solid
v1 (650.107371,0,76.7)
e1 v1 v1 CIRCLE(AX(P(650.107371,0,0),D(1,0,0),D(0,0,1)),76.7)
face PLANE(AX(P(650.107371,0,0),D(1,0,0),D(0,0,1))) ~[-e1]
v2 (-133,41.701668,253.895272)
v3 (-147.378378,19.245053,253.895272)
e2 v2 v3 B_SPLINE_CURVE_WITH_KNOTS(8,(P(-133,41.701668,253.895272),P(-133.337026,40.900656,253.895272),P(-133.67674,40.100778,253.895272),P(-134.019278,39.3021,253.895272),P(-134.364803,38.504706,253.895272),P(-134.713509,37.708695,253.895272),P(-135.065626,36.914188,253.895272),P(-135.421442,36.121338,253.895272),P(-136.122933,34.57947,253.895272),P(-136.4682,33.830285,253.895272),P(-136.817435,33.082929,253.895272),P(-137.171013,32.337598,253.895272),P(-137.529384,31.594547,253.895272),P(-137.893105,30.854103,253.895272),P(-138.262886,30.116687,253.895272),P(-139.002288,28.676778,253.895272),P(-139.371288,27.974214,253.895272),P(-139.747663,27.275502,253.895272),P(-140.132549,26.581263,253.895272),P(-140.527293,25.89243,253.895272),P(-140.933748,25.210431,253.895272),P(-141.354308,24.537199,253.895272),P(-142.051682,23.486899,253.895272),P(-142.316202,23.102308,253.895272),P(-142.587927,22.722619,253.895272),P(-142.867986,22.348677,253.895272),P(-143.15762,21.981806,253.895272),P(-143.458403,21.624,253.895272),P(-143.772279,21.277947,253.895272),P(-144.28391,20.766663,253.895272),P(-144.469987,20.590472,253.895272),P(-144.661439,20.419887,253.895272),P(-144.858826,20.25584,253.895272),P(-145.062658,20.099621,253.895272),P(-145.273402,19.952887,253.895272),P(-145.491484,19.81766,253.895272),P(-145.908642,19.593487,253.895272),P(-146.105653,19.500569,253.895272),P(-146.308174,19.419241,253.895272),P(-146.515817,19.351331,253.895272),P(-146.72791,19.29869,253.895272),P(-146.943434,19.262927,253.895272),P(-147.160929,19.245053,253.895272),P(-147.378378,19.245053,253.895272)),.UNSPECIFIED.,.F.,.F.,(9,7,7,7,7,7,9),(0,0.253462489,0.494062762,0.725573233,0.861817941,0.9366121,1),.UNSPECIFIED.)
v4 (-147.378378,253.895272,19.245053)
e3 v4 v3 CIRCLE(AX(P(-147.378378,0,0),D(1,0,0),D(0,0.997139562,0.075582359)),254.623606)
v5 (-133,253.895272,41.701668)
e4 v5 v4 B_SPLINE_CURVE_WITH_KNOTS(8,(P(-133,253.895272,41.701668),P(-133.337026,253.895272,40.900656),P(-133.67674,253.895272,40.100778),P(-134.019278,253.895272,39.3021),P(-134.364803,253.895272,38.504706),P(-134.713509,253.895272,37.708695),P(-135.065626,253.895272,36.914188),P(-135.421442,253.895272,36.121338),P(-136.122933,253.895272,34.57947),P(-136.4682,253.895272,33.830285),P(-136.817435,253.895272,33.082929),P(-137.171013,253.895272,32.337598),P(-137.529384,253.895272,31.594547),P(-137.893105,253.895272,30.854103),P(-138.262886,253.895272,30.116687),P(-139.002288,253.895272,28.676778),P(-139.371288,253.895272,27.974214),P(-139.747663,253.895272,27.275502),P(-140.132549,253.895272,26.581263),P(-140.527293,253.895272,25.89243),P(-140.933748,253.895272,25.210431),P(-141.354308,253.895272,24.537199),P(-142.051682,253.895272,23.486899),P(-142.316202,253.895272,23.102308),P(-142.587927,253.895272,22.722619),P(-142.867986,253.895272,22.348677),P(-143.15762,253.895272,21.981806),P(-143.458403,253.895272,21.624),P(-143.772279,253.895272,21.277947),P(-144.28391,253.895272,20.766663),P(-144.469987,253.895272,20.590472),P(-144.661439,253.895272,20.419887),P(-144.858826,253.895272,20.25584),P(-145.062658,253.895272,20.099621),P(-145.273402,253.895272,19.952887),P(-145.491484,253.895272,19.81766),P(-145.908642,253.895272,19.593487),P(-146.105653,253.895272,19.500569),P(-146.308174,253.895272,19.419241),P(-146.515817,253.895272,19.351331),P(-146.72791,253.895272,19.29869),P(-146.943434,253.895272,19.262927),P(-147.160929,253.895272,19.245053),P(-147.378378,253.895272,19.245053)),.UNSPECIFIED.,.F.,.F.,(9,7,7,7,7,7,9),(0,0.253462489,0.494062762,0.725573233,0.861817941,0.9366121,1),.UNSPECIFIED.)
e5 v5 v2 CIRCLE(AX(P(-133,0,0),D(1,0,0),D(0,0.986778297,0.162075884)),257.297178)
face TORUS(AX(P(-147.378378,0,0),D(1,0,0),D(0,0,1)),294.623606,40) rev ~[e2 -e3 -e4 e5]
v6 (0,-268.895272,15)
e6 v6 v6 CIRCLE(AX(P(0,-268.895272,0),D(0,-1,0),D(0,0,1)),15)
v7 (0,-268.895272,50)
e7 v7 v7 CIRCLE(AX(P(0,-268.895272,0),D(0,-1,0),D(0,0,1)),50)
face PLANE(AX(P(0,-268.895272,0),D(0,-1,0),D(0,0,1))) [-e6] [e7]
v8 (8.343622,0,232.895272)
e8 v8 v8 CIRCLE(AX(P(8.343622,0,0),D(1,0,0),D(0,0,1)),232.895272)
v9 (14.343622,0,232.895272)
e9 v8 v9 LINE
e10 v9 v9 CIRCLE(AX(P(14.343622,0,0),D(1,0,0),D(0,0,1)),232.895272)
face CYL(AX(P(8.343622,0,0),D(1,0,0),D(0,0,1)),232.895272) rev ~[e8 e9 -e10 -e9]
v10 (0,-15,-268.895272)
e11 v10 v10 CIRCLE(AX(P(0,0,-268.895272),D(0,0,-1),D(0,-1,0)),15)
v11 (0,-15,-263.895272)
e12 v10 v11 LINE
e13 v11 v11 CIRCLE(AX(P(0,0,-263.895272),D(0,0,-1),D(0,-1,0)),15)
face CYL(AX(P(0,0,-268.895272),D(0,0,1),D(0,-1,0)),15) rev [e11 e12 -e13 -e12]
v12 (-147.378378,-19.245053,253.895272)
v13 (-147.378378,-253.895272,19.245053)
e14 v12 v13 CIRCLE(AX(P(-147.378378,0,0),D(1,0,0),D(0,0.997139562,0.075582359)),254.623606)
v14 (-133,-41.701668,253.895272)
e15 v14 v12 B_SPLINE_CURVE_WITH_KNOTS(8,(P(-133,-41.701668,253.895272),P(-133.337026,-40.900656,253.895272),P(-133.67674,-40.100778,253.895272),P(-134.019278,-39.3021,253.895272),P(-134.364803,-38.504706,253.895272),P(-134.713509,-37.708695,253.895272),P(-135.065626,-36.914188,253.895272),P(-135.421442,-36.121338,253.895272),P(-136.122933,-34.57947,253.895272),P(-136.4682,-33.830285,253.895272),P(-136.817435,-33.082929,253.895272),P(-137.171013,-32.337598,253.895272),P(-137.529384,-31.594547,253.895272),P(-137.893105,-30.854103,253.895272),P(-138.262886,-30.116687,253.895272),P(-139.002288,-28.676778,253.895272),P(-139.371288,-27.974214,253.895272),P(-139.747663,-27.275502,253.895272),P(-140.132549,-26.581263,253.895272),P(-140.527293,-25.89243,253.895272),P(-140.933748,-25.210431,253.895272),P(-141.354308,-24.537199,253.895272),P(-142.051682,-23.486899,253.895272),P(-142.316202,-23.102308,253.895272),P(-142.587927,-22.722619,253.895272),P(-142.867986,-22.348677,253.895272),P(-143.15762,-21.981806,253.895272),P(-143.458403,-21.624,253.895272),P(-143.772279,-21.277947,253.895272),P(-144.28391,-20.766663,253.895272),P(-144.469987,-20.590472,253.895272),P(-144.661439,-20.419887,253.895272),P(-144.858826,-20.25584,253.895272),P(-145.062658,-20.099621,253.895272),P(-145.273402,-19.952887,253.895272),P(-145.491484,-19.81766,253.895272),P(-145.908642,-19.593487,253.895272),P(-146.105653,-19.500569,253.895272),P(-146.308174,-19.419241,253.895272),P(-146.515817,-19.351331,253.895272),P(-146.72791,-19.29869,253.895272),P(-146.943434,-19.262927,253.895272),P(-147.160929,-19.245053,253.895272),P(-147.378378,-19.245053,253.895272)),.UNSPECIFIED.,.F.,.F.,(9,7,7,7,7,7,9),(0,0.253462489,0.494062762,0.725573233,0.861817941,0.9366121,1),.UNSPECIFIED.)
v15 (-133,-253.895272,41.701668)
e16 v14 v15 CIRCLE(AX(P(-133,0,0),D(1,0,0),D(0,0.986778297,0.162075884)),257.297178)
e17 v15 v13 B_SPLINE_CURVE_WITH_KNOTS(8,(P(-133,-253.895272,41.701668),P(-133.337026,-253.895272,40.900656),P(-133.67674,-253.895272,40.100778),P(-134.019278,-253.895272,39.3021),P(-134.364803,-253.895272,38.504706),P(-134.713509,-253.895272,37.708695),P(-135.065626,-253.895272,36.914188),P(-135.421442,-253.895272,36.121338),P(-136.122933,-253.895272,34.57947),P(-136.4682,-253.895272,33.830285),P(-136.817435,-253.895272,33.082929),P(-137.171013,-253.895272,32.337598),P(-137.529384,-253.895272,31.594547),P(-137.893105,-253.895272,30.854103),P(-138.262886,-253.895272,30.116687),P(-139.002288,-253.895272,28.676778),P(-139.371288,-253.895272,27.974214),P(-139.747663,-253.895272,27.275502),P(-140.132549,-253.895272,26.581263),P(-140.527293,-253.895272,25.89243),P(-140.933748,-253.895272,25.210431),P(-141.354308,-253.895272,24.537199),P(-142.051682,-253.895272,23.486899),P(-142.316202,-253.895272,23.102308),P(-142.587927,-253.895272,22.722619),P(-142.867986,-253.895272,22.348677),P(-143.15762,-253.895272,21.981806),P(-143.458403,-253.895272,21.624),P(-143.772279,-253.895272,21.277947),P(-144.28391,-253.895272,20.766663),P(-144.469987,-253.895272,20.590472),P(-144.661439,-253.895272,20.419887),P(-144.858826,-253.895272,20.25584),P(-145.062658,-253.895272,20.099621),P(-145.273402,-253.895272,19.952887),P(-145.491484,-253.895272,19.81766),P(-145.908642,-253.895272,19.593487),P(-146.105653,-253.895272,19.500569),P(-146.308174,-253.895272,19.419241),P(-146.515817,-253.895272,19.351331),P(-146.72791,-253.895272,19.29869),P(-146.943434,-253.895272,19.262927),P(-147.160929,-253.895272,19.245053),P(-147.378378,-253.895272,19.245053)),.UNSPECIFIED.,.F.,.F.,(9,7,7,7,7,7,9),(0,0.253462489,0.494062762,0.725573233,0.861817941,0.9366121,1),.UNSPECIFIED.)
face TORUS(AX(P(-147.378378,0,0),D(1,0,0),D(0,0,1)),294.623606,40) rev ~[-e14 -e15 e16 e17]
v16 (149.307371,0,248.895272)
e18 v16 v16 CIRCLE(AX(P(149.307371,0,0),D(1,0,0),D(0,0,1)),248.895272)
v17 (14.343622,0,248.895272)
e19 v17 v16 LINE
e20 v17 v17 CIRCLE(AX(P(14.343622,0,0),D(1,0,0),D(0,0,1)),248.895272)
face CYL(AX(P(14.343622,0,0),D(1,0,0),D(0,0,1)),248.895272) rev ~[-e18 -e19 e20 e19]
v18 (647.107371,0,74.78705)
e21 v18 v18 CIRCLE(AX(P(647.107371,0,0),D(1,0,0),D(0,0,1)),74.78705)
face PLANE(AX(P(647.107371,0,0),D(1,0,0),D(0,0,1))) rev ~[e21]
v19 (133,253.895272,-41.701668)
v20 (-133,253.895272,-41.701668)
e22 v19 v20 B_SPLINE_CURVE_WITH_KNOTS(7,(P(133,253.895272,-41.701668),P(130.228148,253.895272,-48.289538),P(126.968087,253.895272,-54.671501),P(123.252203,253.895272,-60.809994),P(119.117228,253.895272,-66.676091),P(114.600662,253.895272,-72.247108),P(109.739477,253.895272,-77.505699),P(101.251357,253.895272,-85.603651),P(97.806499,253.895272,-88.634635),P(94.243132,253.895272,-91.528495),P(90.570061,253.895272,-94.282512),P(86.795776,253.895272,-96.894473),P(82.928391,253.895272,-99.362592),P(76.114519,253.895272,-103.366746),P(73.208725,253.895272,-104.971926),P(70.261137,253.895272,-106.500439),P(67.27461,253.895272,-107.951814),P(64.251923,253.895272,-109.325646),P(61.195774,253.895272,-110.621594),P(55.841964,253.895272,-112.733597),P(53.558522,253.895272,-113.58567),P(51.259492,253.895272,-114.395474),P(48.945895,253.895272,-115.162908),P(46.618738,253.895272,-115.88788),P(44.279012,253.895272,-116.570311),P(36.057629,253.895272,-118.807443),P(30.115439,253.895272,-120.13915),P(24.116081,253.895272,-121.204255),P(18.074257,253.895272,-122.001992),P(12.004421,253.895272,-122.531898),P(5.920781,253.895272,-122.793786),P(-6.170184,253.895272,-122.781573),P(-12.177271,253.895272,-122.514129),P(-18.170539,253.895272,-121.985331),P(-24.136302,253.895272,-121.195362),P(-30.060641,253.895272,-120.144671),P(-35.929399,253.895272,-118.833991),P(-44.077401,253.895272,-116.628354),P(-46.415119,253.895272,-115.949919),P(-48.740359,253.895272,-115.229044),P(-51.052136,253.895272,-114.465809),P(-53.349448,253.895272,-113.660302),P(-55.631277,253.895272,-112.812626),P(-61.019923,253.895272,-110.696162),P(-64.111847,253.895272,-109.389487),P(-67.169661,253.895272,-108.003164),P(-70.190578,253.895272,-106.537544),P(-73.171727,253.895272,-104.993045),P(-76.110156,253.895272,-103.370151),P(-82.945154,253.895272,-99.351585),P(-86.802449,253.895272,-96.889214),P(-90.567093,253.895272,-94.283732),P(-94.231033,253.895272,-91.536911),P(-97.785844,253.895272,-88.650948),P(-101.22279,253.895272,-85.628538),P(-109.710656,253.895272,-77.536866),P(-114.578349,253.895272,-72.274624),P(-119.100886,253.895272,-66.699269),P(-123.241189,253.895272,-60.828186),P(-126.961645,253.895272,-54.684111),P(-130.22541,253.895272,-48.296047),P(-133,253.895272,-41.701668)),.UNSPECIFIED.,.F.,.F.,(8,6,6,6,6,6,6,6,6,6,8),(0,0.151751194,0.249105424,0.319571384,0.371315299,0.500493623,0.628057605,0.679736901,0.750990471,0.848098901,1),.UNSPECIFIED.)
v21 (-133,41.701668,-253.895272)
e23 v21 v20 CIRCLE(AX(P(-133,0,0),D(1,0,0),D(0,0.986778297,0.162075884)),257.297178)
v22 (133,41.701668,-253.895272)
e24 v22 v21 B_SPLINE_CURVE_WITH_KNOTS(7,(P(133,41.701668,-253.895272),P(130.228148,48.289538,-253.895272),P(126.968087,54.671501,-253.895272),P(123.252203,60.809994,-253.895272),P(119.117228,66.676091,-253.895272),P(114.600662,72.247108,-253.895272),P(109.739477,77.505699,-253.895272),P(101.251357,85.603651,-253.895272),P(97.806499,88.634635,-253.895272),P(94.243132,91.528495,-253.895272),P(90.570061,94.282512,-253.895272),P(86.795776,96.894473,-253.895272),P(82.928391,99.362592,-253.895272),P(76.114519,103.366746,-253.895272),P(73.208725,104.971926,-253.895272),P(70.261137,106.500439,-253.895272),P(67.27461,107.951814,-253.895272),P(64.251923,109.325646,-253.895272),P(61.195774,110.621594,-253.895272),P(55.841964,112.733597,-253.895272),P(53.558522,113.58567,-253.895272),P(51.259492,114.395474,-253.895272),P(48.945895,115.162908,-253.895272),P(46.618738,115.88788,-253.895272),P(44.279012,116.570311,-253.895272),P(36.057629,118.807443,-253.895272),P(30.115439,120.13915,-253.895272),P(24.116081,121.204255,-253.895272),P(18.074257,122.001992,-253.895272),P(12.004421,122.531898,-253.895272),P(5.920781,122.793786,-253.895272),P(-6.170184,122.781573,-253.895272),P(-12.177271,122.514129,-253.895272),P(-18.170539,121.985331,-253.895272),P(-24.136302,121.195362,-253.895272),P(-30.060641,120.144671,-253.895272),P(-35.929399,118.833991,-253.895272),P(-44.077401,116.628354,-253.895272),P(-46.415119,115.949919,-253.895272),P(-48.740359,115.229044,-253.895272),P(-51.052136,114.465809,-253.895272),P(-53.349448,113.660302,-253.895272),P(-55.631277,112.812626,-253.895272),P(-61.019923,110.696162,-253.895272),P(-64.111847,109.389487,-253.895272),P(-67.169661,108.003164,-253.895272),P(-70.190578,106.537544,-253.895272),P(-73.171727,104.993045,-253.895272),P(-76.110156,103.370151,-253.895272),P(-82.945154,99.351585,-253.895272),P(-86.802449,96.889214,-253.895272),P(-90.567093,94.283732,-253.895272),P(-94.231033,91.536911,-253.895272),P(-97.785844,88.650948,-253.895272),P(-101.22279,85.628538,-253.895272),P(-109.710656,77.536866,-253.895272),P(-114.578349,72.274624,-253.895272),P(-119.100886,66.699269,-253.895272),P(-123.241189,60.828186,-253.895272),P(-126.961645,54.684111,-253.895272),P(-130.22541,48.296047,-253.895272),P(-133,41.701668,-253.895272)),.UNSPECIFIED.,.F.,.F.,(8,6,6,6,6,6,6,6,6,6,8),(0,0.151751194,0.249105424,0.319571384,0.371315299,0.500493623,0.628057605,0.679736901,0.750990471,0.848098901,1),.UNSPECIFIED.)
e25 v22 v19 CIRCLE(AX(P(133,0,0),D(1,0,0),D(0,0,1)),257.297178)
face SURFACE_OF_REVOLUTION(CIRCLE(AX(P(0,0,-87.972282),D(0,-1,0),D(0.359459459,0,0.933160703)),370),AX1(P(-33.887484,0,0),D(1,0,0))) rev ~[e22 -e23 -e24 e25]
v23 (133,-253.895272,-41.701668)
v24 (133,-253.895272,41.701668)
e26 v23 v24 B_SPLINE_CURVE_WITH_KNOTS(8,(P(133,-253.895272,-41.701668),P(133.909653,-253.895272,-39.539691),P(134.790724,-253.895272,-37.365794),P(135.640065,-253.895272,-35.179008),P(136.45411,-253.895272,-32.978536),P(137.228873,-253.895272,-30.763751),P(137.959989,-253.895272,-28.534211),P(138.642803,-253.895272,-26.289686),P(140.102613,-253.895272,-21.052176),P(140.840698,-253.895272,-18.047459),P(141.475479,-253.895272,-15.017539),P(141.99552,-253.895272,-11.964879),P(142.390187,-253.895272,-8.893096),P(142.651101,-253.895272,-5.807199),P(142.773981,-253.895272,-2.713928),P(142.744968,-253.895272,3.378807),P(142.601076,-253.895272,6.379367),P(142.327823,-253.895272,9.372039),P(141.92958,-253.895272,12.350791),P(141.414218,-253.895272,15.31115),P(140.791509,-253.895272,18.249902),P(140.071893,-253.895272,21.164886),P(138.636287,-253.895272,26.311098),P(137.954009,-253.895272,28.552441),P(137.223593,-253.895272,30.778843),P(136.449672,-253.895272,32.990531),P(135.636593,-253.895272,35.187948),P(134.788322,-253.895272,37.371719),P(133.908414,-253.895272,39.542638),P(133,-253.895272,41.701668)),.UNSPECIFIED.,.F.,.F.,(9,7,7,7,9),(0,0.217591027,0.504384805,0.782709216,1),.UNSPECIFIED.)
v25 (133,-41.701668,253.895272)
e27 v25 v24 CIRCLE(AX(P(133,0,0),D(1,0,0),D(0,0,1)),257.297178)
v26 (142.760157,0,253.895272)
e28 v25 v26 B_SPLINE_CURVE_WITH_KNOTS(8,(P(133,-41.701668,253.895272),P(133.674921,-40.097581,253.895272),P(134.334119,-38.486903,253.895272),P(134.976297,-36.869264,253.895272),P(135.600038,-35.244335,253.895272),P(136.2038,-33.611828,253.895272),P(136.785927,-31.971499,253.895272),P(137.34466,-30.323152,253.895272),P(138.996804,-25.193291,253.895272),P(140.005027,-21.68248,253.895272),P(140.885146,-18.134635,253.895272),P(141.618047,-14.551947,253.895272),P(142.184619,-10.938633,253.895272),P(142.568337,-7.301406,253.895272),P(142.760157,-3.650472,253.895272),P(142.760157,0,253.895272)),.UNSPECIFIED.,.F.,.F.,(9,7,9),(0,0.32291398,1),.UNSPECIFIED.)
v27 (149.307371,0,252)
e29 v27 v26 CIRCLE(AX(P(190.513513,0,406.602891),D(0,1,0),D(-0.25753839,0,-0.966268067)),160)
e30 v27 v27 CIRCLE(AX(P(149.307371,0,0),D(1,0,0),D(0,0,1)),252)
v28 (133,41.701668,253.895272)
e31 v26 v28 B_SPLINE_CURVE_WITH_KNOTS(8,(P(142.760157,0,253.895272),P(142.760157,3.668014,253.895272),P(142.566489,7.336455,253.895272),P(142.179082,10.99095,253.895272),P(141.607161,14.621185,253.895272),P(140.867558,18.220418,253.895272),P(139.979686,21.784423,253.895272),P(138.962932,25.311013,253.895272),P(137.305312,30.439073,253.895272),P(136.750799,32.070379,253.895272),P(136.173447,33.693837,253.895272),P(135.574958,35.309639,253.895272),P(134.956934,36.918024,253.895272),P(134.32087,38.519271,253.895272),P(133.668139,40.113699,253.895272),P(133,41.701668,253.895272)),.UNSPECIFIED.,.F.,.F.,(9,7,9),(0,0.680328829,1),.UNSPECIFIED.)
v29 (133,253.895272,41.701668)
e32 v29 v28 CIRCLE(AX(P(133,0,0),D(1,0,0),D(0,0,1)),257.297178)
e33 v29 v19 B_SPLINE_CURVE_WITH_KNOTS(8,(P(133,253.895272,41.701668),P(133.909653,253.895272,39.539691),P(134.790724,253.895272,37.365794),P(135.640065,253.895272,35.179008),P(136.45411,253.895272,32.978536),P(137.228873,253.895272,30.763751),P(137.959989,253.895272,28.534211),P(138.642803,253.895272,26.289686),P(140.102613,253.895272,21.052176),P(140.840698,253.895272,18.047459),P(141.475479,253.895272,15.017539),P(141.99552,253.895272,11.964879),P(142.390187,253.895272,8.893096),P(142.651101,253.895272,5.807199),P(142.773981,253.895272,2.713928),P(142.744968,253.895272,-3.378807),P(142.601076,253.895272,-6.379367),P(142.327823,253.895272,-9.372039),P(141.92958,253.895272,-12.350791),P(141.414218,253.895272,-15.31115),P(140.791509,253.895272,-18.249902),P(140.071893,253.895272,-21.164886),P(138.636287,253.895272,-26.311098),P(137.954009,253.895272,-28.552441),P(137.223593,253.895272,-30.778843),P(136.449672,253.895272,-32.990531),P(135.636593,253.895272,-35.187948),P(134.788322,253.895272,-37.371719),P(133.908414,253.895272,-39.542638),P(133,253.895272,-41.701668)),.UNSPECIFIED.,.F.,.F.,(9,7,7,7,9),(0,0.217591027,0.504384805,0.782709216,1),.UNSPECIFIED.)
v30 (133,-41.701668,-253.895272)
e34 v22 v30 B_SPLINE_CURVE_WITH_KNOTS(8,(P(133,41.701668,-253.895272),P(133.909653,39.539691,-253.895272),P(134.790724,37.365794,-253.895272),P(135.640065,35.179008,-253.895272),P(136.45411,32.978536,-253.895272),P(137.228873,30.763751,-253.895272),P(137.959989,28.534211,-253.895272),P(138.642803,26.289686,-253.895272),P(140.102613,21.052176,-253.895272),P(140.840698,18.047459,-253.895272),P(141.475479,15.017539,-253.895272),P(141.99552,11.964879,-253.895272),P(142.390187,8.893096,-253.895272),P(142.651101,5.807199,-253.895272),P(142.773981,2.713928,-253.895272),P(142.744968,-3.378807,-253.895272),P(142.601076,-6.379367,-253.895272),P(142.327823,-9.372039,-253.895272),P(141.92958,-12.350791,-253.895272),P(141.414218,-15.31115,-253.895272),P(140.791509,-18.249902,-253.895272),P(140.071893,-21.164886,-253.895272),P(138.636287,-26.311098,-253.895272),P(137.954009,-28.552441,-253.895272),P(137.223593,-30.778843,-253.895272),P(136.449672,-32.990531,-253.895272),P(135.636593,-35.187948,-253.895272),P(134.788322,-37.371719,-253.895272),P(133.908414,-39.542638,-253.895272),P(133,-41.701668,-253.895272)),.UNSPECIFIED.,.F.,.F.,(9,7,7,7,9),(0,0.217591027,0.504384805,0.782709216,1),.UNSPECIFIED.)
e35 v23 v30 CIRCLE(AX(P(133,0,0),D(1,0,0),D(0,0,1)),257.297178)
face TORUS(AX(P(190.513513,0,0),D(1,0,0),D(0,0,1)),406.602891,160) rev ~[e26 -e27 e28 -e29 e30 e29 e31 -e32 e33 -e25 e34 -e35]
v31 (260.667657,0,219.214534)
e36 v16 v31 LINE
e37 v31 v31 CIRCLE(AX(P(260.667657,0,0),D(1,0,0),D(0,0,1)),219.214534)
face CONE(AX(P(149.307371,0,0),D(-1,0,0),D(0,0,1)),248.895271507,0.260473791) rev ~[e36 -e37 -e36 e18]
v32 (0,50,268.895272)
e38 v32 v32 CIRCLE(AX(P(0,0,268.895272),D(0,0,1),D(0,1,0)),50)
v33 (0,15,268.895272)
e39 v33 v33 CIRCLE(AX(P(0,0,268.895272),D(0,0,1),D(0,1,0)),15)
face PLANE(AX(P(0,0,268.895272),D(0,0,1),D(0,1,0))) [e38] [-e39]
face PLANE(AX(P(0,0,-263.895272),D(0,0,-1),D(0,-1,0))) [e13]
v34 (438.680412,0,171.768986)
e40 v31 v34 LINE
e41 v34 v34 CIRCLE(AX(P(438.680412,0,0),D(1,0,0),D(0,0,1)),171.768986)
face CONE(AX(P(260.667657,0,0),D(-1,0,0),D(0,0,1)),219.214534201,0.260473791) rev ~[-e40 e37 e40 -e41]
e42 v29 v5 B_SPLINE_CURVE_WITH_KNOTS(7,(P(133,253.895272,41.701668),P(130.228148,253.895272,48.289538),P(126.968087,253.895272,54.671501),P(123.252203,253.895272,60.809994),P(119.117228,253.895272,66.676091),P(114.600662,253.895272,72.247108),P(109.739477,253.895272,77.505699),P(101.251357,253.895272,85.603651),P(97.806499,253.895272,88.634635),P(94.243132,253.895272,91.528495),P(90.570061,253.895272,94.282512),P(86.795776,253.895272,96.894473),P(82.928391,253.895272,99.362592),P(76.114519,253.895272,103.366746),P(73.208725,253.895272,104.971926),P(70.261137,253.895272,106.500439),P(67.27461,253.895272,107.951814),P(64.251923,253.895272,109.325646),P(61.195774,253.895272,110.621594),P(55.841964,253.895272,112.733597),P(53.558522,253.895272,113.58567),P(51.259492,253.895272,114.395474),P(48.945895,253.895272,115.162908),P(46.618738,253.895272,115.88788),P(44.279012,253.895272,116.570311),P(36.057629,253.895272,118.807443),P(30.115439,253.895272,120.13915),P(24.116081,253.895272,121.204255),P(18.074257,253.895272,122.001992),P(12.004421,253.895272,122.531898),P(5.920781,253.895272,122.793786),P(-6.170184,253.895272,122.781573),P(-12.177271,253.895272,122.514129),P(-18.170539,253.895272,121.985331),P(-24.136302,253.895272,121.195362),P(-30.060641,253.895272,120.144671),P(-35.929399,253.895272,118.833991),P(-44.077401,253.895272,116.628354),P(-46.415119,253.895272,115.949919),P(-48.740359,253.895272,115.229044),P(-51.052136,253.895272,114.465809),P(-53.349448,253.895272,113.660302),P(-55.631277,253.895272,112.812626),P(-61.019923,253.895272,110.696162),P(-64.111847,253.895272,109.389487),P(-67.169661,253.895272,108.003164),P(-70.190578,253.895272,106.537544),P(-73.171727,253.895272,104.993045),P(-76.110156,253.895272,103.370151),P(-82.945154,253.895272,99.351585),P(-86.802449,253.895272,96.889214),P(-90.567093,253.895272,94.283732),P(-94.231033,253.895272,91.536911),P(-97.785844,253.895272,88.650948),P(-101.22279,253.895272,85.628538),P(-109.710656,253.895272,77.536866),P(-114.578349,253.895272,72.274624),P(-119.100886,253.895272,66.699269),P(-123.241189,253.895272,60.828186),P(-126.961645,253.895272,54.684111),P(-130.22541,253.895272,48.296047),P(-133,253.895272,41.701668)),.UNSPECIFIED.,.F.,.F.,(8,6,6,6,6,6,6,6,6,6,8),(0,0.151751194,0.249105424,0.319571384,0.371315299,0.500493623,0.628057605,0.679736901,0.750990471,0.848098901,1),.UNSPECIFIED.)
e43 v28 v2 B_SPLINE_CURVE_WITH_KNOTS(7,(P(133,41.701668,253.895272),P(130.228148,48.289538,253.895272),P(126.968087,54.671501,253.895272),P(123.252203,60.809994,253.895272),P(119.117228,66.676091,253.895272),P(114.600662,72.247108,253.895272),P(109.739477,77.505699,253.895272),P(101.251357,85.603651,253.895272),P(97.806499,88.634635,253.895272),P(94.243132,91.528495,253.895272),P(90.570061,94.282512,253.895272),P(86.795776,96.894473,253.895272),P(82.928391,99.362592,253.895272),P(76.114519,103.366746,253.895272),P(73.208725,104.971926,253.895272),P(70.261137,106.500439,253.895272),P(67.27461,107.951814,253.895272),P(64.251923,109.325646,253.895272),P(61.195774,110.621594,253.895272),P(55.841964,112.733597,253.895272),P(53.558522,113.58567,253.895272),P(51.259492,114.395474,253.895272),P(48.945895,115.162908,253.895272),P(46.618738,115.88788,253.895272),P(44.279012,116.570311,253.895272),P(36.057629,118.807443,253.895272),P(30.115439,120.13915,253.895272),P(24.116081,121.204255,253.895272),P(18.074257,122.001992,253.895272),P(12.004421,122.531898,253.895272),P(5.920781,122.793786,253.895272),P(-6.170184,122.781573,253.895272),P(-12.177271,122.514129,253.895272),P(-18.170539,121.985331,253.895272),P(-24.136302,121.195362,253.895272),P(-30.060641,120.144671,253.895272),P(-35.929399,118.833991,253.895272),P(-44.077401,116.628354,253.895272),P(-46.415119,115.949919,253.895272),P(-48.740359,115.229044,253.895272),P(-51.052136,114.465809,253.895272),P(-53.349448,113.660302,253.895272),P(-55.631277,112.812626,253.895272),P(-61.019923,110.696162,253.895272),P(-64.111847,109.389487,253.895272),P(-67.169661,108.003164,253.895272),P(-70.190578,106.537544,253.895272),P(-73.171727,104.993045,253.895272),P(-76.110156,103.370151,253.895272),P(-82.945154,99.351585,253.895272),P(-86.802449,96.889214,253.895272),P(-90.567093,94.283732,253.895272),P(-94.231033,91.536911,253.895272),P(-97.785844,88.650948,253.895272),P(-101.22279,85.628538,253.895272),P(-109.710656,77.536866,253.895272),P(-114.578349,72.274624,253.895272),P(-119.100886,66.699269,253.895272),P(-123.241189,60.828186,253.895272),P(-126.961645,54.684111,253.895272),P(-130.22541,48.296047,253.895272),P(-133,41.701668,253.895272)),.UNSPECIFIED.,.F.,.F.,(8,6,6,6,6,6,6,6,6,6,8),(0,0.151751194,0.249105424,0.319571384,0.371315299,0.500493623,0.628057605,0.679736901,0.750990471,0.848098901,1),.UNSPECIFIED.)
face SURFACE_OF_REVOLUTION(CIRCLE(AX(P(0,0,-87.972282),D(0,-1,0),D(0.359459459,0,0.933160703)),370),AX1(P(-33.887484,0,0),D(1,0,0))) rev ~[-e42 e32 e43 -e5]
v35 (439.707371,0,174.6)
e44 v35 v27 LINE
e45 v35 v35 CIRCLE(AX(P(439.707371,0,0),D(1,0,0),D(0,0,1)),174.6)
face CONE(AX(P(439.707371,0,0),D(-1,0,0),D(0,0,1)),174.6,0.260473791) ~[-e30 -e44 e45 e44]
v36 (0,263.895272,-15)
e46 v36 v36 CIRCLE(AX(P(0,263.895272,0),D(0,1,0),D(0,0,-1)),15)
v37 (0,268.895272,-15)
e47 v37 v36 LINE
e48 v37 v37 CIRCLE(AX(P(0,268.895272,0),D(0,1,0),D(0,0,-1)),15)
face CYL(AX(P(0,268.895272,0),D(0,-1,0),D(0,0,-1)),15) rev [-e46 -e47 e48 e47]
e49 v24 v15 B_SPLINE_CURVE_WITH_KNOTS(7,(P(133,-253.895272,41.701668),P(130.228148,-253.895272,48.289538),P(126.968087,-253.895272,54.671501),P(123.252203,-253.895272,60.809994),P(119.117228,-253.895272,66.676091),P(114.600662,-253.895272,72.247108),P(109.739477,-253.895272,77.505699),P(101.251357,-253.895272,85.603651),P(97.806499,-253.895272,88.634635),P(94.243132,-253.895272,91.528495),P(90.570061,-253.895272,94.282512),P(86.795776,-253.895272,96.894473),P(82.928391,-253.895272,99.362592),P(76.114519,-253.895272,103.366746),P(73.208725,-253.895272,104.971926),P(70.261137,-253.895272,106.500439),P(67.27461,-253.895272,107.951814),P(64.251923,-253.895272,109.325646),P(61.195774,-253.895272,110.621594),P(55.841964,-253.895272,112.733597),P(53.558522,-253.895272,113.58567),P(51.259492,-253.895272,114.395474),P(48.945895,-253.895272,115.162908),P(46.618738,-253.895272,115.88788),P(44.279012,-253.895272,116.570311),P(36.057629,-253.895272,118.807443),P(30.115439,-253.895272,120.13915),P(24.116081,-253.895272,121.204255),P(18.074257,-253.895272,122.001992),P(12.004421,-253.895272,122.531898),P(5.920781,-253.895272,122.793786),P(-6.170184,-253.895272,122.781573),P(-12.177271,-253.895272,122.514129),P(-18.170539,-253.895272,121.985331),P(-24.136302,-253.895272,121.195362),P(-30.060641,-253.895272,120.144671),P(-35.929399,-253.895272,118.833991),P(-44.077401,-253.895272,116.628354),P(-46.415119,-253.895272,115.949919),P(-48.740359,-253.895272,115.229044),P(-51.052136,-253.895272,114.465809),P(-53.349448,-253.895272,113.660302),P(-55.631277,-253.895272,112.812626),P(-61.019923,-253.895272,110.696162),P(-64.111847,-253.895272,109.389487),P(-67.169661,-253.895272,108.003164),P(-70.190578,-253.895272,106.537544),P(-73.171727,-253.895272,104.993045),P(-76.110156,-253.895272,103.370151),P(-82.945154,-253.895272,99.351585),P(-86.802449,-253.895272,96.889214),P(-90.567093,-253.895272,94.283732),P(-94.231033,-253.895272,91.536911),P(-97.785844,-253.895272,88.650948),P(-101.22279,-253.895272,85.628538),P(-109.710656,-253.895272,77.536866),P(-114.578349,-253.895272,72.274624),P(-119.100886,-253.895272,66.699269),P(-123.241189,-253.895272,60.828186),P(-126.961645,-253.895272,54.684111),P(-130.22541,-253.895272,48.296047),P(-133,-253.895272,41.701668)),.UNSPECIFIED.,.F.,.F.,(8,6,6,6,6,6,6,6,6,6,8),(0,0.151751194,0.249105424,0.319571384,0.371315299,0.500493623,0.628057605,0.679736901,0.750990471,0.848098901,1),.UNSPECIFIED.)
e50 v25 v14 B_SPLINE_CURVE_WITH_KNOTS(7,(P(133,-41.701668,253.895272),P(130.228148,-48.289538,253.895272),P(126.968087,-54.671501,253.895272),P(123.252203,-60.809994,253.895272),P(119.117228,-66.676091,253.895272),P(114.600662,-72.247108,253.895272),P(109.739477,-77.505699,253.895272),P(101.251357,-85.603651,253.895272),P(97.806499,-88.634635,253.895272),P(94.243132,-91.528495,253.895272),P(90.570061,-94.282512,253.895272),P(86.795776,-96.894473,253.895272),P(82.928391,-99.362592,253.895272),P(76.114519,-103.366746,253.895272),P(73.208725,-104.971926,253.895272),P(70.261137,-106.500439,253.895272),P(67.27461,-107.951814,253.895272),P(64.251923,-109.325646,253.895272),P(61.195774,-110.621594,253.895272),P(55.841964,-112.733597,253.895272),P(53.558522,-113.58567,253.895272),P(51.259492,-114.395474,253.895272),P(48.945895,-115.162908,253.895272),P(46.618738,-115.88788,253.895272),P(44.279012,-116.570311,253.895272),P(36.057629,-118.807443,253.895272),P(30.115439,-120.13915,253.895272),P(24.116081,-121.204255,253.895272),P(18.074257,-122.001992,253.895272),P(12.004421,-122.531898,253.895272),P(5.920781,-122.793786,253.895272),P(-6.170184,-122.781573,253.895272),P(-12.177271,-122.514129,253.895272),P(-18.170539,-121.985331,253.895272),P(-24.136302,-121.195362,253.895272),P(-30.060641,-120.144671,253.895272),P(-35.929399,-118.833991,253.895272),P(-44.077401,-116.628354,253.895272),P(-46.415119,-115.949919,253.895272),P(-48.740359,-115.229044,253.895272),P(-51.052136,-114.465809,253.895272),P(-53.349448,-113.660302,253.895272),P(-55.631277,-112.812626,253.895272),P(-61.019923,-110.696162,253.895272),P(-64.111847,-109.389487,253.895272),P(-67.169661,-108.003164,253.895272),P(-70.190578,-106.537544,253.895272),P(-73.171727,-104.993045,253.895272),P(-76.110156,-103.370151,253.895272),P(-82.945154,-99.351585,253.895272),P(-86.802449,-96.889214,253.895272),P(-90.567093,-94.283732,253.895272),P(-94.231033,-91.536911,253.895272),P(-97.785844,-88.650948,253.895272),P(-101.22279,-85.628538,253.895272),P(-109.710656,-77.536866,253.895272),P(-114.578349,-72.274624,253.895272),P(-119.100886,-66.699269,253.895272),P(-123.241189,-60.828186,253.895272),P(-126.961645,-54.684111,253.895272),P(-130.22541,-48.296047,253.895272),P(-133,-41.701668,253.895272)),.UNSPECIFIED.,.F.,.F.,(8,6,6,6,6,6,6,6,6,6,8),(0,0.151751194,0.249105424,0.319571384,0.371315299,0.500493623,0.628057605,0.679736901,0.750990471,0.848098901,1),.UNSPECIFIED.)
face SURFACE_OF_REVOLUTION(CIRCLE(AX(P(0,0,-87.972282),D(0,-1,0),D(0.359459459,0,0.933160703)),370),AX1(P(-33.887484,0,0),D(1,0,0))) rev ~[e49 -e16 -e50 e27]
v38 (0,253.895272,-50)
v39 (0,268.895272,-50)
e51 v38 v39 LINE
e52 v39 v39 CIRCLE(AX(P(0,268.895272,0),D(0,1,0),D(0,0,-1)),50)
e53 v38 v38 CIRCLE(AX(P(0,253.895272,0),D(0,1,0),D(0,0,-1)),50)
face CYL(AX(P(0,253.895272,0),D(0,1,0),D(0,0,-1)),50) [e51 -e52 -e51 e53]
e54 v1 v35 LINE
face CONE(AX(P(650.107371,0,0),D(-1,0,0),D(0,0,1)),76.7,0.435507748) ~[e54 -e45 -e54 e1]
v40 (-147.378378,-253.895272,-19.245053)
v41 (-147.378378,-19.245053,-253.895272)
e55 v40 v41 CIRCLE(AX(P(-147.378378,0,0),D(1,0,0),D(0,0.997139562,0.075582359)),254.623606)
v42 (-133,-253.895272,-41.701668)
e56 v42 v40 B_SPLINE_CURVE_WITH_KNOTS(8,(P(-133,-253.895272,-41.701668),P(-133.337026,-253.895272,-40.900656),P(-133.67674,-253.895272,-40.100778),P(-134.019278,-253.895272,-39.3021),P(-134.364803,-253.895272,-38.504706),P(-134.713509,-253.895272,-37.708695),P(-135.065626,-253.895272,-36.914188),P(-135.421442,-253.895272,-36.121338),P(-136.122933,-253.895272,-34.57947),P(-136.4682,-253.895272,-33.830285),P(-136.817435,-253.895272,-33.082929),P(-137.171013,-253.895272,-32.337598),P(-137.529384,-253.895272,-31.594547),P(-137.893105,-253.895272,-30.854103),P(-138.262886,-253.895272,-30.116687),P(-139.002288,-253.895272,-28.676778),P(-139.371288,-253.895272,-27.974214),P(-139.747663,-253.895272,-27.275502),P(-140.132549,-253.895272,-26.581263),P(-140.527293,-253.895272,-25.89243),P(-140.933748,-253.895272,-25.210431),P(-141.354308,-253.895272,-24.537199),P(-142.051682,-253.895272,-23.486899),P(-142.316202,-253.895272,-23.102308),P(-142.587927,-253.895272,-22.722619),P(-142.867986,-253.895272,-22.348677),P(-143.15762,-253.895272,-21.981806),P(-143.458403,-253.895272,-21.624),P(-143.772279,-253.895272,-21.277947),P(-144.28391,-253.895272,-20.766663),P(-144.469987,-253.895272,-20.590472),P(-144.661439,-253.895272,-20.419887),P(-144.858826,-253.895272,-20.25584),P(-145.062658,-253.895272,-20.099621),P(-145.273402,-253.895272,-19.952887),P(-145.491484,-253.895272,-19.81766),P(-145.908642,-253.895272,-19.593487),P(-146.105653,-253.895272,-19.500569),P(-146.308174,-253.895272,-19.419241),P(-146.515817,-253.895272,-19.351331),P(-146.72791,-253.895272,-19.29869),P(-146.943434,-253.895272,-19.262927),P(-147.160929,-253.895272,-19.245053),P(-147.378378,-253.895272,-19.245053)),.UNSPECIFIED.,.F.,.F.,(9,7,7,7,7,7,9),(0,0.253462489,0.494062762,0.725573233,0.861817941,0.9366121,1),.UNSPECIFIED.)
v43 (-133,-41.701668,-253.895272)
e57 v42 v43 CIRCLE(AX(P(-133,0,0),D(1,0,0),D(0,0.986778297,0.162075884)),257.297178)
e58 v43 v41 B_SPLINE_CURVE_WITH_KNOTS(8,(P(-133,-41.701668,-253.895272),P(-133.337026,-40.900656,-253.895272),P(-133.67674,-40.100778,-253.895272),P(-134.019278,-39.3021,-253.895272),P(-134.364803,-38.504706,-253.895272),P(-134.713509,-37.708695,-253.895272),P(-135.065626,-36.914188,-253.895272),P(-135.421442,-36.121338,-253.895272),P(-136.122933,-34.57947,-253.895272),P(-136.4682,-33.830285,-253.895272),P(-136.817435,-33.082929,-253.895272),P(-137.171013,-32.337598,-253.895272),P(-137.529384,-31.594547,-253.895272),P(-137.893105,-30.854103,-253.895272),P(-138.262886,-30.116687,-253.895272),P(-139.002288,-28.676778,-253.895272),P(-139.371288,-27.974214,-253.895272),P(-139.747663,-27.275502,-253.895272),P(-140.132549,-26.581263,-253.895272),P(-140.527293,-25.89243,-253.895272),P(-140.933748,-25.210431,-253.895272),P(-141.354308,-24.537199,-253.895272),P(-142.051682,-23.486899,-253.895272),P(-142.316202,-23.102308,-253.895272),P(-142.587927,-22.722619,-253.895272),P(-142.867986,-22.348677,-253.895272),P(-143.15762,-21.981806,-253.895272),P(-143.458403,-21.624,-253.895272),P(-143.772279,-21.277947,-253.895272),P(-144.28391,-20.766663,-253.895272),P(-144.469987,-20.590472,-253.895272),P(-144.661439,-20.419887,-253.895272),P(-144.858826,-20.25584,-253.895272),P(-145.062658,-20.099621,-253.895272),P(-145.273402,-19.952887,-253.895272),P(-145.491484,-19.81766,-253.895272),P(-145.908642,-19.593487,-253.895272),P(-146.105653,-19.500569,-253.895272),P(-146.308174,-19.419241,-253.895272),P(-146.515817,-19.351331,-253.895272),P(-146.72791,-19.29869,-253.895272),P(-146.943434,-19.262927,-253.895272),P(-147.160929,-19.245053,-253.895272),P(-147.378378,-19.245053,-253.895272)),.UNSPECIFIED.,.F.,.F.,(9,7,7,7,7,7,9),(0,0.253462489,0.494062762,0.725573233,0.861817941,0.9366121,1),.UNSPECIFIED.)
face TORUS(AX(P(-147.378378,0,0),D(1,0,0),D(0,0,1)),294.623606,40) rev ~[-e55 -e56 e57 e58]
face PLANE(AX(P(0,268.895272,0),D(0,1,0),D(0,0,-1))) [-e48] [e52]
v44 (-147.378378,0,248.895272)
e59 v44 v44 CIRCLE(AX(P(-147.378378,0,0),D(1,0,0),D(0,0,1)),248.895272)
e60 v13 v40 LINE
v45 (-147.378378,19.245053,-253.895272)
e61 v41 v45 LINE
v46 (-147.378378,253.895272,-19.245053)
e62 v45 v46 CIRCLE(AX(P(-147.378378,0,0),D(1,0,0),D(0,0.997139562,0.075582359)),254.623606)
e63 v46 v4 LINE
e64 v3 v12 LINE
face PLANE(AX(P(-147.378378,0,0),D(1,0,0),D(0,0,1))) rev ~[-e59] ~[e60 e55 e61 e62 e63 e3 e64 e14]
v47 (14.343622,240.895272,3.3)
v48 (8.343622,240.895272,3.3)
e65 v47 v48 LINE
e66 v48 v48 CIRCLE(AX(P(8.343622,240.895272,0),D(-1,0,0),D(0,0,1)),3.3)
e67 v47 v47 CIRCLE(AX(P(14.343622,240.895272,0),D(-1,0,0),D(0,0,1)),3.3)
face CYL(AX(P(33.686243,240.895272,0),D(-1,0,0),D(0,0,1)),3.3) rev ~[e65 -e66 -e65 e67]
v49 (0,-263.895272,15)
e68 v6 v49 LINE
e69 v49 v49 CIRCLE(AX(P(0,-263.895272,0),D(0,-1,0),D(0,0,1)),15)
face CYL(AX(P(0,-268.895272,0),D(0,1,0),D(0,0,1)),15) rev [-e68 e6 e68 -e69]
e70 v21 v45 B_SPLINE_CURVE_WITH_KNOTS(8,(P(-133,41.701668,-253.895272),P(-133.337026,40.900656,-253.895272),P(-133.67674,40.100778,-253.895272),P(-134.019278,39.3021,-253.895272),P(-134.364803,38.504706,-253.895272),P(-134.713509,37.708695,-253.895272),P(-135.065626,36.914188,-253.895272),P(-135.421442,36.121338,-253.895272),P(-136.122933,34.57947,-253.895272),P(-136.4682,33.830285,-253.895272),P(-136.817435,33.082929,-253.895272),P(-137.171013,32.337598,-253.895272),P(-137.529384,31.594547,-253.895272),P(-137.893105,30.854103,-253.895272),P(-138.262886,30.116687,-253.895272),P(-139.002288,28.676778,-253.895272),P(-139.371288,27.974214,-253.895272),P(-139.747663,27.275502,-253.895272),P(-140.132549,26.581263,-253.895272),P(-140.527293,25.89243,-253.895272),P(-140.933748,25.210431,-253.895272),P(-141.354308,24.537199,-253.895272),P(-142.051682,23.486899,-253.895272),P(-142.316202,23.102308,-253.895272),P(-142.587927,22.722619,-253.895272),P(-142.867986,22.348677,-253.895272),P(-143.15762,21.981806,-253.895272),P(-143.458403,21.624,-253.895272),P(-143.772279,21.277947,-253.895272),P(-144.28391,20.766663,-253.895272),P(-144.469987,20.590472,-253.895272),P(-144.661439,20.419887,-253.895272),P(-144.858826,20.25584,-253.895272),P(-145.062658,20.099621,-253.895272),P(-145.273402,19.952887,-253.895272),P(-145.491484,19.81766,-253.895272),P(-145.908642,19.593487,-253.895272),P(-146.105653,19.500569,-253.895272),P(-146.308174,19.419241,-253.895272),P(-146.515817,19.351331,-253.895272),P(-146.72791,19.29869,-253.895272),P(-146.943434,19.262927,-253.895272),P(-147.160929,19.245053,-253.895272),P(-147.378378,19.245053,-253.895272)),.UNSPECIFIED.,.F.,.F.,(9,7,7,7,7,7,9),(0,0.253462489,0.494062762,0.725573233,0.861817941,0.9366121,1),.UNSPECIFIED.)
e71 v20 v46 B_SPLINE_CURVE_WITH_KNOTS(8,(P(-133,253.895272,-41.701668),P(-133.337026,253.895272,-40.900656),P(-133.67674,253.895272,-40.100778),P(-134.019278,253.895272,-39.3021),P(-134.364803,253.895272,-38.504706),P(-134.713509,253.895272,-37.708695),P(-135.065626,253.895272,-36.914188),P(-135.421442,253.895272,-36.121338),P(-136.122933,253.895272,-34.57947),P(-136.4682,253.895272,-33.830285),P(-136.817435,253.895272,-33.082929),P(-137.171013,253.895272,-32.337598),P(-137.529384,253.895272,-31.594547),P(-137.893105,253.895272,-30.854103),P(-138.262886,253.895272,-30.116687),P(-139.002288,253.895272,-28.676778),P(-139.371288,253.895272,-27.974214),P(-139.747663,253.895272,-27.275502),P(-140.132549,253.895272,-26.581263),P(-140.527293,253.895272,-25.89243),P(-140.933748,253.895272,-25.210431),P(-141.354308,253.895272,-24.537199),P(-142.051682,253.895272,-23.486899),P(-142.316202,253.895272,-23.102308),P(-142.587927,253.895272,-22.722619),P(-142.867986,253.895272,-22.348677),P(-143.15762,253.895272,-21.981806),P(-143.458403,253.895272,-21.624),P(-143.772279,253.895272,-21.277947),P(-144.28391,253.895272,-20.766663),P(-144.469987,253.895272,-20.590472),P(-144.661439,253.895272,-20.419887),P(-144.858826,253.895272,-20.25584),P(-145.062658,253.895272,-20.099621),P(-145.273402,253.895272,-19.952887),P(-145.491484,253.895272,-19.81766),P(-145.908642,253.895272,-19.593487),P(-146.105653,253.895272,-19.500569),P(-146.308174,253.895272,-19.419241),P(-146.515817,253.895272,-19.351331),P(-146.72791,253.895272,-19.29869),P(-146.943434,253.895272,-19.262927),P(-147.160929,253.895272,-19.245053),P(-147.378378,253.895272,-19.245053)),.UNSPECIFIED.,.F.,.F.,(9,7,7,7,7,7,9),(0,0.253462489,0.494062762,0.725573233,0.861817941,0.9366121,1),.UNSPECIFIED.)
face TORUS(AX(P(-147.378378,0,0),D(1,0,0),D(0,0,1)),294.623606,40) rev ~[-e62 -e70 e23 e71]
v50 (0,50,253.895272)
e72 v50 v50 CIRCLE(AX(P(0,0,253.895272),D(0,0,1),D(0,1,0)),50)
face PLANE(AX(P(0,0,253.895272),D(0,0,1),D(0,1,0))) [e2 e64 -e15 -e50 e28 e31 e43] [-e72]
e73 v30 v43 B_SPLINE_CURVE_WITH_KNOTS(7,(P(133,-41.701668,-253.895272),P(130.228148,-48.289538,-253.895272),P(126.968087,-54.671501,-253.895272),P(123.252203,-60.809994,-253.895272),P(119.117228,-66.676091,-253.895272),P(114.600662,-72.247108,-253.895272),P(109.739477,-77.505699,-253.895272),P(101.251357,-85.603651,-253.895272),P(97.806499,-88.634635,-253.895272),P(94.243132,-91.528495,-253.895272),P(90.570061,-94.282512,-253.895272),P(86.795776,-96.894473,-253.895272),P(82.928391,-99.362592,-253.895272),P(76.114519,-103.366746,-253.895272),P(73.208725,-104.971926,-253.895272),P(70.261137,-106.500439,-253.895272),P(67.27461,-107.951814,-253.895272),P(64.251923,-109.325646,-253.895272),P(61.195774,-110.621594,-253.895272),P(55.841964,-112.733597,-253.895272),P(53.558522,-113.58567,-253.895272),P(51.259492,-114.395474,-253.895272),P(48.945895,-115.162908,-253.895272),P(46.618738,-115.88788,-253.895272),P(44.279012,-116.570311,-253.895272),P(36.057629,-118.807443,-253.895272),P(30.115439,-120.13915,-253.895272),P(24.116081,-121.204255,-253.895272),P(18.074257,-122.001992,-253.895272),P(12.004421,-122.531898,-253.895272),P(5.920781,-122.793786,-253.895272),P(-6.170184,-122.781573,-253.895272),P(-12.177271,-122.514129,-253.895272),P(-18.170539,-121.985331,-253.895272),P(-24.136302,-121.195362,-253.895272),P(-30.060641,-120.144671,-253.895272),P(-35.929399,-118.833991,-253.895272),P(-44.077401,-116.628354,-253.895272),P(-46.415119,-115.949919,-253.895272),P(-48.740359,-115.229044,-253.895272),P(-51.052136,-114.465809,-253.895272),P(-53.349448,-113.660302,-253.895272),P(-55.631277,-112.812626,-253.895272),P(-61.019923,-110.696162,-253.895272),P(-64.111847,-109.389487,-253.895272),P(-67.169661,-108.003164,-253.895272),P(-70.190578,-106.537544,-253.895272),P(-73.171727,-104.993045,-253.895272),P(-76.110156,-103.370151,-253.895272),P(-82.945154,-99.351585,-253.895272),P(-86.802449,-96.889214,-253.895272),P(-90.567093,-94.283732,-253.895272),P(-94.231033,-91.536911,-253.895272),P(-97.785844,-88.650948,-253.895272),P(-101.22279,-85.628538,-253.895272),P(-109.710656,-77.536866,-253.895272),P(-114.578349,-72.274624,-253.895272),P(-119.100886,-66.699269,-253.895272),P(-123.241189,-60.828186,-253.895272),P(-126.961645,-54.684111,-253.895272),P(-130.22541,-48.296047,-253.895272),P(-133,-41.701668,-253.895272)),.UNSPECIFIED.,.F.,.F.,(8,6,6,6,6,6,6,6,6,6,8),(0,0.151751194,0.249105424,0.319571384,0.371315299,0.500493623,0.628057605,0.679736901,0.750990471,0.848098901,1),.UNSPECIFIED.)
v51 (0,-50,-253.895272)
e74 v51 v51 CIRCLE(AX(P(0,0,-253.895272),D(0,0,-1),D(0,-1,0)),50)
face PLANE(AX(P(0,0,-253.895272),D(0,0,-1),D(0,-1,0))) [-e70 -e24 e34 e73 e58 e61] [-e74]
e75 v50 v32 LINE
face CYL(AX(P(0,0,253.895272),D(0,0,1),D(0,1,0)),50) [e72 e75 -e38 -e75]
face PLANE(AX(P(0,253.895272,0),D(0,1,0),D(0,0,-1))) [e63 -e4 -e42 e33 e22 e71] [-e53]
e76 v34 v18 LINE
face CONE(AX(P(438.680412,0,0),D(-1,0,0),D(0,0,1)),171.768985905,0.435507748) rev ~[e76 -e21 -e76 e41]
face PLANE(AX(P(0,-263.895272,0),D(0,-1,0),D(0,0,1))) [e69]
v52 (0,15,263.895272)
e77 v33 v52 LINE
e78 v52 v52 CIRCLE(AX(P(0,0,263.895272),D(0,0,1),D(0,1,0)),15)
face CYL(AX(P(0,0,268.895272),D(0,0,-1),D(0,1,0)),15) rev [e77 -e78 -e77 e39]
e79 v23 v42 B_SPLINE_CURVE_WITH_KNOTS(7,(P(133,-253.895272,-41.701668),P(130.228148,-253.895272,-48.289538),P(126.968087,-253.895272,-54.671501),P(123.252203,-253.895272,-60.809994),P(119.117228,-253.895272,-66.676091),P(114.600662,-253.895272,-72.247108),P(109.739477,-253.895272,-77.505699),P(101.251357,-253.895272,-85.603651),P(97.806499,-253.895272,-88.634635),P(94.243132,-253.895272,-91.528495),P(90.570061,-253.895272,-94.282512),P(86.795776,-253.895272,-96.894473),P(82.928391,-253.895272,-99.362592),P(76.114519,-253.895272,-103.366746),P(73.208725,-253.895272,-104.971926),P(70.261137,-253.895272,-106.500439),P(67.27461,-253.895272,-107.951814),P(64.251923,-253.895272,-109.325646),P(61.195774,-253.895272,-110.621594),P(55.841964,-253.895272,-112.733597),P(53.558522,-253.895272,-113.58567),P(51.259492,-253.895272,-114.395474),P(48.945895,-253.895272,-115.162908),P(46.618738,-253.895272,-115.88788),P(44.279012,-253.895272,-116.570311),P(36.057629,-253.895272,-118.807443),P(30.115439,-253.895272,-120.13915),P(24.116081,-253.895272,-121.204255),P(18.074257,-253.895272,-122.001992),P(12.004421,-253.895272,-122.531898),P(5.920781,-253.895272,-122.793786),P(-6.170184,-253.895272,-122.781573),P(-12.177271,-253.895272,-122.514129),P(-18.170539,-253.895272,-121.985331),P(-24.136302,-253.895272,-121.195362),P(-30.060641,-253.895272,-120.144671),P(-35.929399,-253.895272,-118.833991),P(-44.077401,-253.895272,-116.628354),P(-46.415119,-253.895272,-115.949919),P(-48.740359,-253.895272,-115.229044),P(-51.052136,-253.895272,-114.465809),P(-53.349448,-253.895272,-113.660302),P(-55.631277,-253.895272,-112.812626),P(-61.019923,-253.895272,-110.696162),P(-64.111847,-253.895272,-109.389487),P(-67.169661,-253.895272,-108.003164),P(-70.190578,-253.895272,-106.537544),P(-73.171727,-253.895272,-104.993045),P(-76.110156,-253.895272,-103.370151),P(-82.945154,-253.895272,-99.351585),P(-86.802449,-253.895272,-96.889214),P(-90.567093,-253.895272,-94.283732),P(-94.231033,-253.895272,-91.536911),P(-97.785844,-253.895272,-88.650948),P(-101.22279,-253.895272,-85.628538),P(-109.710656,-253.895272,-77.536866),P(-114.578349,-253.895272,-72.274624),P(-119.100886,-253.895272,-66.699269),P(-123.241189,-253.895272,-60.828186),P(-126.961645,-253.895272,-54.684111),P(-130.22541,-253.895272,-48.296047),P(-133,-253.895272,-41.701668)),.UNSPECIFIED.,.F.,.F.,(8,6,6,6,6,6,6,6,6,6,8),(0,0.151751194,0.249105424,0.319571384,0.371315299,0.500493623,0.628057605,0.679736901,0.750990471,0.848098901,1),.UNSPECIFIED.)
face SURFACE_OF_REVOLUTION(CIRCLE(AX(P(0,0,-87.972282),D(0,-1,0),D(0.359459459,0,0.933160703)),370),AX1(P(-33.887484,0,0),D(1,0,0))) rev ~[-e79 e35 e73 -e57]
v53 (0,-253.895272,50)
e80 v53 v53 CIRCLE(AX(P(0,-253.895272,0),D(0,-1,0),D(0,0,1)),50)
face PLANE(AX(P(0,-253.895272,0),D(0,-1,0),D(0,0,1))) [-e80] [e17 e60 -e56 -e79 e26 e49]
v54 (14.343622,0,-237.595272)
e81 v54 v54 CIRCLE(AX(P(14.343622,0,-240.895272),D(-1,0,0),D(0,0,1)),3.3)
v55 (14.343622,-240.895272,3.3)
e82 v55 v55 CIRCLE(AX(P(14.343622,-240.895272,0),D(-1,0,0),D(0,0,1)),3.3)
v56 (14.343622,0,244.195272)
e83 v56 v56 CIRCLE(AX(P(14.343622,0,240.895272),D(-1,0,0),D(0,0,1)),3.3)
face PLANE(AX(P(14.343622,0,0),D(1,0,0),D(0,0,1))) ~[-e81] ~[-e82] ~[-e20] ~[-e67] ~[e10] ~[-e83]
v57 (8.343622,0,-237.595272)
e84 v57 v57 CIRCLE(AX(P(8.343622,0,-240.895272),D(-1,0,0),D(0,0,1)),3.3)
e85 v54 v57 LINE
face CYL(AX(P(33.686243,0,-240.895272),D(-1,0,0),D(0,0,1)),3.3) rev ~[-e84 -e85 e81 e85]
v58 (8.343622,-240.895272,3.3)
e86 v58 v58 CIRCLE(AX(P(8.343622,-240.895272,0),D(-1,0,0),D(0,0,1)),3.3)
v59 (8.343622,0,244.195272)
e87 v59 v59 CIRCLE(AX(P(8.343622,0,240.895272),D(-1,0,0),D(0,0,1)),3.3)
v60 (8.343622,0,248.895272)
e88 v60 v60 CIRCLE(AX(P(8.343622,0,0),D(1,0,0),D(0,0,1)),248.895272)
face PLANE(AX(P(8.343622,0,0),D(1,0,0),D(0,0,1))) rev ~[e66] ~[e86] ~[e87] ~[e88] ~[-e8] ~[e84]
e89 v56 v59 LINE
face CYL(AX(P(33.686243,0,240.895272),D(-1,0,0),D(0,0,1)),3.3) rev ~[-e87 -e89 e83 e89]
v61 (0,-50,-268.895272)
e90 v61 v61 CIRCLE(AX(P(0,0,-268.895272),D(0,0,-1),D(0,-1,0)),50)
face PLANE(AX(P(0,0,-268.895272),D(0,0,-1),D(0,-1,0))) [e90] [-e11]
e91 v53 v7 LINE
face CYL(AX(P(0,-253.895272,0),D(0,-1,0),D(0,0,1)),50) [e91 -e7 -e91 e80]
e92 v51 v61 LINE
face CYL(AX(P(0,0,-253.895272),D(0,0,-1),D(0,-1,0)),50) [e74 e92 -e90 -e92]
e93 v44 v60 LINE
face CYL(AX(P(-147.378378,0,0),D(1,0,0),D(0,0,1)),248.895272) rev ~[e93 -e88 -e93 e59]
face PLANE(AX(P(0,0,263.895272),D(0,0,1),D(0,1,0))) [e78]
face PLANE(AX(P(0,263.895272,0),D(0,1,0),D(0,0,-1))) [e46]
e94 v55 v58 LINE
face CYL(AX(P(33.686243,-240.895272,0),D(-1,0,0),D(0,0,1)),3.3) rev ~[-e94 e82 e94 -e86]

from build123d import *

# Parameters (mm, degrees)
ESCALA1_SCALE               = 0.2
PADR_OCIRCULAR1_COUNT       = 4
FURO_COM_FOLGA_DE_M61_D     = 6.6
FURO_COM_FOLGA_DE_M61_DEPTH = 19.342621622
FURO_COM_FOLGA_DE_M61_TIP   = 1.982840043


with BuildPart() as part:
    # Esboço1 → Revolução1 (revolve)
    with BuildSketch(Plane.XY, mode=Mode.PRIVATE) as revolu_o1_sk:
        with BuildLine():
            Line((3250.53685571, 0), (3250.53685571, 383.5))
            Line((3250.53685571, 383.5), (2198.53685571, 873))
            Line((2198.53685571, 873), (746.53685571, 1260))
            ThreePointArc((746.53685571, 1260), (705.413382944, 1272.149939556), (665, 1286.485891657))
            ThreePointArc((665, 1286.485891657), (0, 1410.13859172), (-665, 1286.485891657))
            ThreePointArc((-665, 1286.485891657), (-700.329808436, 1276.488395428), (-736.891891892, 1273.118032191))
            Line((-736.891891892, 1273.118032191), (-736.891891892, 1244.476357536))
            Line((-736.891891892, 1244.476357536), (41.718108108, 1244.476357536))
            Line((41.718108108, 1244.476357536), (41.718108108, 1164.476357536))
            Line((41.718108108, 1164.476357536), (71.718108108, 1164.476357536))
            Line((71.718108108, 1164.476357536), (71.718108108, 1244.476357536))
            Line((71.718108108, 1244.476357536), (746.53685571, 1244.476357536))
            Line((746.53685571, 1244.476357536), (1303.338284236, 1096.072671007))
            Line((1303.338284236, 1096.072671007), (2193.402058482, 858.844929525))
            Line((2193.402058482, 858.844929525), (3235.53685571, 373.935249636))
            Line((3235.53685571, 373.935249636), (3235.53685571, 0))
            Line((3235.53685571, 0), (3250.53685571, 0))
        make_face()
    revolve(revolu_o1_sk.sketch.rotate(Axis((-169.437422306, 0, 0), (1, 0, 0)), 90), axis=Axis((-169.437422306, 0, 0), (1, 0, 0)))


with BuildPart() as part_1:
    # Escala1: scaled about (0, 0, 0)
    add(part.part.scale(ESCALA1_SCALE))

    # Esboço2 → Corte-Revolução9 (revolve, cut)
    with BuildSketch(Plane.XY, mode=Mode.PRIVATE) as corte_revolu_o9_sk:
        Polygon((15, 268.895271507), (15, 263.895271507), (0, 263.895271507), (0, 311.146389703), (175.532983409, 311.146389703), (175.532983409, 253.895271507), (50, 253.895271507), (50, 268.895271507), align=None)
    corte_revolu_o9 = revolve(corte_revolu_o9_sk.sketch.rotate(Axis((0, -141.14012245, 0), (0, 1, 0)), 90), axis=Axis((0, -141.14012245, 0), (0, 1, 0)), mode=Mode.SUBTRACT)

    # PadrãoCircular1: Corte-Revolução9 ×4 about axis
    padr_ocircular1_axis = Axis((0, 0, 0), (1, 0, 0))
    for i in range(1, PADR_OCIRCULAR1_COUNT):
        add(corte_revolu_o9.rotate(padr_ocircular1_axis, i * 360 / PADR_OCIRCULAR1_COUNT), mode=Mode.SUBTRACT)

    # Furo com folga de M61
    with Locations(Plane(origin=(14.343621622, 0, 0), x_dir=(0, 0, -1), z_dir=(1, 0, 0))):
        with Locations((0, 240.895271507), (240.895271507, 0), (0, -240.895271507), (-240.895271507, 0), (0, 0)):
            Hole(FURO_COM_FOLGA_DE_M61_D / 2, depth=FURO_COM_FOLGA_DE_M61_DEPTH)
            with Locations((0, 0, -(FURO_COM_FOLGA_DE_M61_DEPTH + FURO_COM_FOLGA_DE_M61_TIP / 2))):  # 118° drill point
                Cone(0, FURO_COM_FOLGA_DE_M61_D / 2, FURO_COM_FOLGA_DE_M61_TIP, mode=Mode.SUBTRACT)


solid = part_1.part
